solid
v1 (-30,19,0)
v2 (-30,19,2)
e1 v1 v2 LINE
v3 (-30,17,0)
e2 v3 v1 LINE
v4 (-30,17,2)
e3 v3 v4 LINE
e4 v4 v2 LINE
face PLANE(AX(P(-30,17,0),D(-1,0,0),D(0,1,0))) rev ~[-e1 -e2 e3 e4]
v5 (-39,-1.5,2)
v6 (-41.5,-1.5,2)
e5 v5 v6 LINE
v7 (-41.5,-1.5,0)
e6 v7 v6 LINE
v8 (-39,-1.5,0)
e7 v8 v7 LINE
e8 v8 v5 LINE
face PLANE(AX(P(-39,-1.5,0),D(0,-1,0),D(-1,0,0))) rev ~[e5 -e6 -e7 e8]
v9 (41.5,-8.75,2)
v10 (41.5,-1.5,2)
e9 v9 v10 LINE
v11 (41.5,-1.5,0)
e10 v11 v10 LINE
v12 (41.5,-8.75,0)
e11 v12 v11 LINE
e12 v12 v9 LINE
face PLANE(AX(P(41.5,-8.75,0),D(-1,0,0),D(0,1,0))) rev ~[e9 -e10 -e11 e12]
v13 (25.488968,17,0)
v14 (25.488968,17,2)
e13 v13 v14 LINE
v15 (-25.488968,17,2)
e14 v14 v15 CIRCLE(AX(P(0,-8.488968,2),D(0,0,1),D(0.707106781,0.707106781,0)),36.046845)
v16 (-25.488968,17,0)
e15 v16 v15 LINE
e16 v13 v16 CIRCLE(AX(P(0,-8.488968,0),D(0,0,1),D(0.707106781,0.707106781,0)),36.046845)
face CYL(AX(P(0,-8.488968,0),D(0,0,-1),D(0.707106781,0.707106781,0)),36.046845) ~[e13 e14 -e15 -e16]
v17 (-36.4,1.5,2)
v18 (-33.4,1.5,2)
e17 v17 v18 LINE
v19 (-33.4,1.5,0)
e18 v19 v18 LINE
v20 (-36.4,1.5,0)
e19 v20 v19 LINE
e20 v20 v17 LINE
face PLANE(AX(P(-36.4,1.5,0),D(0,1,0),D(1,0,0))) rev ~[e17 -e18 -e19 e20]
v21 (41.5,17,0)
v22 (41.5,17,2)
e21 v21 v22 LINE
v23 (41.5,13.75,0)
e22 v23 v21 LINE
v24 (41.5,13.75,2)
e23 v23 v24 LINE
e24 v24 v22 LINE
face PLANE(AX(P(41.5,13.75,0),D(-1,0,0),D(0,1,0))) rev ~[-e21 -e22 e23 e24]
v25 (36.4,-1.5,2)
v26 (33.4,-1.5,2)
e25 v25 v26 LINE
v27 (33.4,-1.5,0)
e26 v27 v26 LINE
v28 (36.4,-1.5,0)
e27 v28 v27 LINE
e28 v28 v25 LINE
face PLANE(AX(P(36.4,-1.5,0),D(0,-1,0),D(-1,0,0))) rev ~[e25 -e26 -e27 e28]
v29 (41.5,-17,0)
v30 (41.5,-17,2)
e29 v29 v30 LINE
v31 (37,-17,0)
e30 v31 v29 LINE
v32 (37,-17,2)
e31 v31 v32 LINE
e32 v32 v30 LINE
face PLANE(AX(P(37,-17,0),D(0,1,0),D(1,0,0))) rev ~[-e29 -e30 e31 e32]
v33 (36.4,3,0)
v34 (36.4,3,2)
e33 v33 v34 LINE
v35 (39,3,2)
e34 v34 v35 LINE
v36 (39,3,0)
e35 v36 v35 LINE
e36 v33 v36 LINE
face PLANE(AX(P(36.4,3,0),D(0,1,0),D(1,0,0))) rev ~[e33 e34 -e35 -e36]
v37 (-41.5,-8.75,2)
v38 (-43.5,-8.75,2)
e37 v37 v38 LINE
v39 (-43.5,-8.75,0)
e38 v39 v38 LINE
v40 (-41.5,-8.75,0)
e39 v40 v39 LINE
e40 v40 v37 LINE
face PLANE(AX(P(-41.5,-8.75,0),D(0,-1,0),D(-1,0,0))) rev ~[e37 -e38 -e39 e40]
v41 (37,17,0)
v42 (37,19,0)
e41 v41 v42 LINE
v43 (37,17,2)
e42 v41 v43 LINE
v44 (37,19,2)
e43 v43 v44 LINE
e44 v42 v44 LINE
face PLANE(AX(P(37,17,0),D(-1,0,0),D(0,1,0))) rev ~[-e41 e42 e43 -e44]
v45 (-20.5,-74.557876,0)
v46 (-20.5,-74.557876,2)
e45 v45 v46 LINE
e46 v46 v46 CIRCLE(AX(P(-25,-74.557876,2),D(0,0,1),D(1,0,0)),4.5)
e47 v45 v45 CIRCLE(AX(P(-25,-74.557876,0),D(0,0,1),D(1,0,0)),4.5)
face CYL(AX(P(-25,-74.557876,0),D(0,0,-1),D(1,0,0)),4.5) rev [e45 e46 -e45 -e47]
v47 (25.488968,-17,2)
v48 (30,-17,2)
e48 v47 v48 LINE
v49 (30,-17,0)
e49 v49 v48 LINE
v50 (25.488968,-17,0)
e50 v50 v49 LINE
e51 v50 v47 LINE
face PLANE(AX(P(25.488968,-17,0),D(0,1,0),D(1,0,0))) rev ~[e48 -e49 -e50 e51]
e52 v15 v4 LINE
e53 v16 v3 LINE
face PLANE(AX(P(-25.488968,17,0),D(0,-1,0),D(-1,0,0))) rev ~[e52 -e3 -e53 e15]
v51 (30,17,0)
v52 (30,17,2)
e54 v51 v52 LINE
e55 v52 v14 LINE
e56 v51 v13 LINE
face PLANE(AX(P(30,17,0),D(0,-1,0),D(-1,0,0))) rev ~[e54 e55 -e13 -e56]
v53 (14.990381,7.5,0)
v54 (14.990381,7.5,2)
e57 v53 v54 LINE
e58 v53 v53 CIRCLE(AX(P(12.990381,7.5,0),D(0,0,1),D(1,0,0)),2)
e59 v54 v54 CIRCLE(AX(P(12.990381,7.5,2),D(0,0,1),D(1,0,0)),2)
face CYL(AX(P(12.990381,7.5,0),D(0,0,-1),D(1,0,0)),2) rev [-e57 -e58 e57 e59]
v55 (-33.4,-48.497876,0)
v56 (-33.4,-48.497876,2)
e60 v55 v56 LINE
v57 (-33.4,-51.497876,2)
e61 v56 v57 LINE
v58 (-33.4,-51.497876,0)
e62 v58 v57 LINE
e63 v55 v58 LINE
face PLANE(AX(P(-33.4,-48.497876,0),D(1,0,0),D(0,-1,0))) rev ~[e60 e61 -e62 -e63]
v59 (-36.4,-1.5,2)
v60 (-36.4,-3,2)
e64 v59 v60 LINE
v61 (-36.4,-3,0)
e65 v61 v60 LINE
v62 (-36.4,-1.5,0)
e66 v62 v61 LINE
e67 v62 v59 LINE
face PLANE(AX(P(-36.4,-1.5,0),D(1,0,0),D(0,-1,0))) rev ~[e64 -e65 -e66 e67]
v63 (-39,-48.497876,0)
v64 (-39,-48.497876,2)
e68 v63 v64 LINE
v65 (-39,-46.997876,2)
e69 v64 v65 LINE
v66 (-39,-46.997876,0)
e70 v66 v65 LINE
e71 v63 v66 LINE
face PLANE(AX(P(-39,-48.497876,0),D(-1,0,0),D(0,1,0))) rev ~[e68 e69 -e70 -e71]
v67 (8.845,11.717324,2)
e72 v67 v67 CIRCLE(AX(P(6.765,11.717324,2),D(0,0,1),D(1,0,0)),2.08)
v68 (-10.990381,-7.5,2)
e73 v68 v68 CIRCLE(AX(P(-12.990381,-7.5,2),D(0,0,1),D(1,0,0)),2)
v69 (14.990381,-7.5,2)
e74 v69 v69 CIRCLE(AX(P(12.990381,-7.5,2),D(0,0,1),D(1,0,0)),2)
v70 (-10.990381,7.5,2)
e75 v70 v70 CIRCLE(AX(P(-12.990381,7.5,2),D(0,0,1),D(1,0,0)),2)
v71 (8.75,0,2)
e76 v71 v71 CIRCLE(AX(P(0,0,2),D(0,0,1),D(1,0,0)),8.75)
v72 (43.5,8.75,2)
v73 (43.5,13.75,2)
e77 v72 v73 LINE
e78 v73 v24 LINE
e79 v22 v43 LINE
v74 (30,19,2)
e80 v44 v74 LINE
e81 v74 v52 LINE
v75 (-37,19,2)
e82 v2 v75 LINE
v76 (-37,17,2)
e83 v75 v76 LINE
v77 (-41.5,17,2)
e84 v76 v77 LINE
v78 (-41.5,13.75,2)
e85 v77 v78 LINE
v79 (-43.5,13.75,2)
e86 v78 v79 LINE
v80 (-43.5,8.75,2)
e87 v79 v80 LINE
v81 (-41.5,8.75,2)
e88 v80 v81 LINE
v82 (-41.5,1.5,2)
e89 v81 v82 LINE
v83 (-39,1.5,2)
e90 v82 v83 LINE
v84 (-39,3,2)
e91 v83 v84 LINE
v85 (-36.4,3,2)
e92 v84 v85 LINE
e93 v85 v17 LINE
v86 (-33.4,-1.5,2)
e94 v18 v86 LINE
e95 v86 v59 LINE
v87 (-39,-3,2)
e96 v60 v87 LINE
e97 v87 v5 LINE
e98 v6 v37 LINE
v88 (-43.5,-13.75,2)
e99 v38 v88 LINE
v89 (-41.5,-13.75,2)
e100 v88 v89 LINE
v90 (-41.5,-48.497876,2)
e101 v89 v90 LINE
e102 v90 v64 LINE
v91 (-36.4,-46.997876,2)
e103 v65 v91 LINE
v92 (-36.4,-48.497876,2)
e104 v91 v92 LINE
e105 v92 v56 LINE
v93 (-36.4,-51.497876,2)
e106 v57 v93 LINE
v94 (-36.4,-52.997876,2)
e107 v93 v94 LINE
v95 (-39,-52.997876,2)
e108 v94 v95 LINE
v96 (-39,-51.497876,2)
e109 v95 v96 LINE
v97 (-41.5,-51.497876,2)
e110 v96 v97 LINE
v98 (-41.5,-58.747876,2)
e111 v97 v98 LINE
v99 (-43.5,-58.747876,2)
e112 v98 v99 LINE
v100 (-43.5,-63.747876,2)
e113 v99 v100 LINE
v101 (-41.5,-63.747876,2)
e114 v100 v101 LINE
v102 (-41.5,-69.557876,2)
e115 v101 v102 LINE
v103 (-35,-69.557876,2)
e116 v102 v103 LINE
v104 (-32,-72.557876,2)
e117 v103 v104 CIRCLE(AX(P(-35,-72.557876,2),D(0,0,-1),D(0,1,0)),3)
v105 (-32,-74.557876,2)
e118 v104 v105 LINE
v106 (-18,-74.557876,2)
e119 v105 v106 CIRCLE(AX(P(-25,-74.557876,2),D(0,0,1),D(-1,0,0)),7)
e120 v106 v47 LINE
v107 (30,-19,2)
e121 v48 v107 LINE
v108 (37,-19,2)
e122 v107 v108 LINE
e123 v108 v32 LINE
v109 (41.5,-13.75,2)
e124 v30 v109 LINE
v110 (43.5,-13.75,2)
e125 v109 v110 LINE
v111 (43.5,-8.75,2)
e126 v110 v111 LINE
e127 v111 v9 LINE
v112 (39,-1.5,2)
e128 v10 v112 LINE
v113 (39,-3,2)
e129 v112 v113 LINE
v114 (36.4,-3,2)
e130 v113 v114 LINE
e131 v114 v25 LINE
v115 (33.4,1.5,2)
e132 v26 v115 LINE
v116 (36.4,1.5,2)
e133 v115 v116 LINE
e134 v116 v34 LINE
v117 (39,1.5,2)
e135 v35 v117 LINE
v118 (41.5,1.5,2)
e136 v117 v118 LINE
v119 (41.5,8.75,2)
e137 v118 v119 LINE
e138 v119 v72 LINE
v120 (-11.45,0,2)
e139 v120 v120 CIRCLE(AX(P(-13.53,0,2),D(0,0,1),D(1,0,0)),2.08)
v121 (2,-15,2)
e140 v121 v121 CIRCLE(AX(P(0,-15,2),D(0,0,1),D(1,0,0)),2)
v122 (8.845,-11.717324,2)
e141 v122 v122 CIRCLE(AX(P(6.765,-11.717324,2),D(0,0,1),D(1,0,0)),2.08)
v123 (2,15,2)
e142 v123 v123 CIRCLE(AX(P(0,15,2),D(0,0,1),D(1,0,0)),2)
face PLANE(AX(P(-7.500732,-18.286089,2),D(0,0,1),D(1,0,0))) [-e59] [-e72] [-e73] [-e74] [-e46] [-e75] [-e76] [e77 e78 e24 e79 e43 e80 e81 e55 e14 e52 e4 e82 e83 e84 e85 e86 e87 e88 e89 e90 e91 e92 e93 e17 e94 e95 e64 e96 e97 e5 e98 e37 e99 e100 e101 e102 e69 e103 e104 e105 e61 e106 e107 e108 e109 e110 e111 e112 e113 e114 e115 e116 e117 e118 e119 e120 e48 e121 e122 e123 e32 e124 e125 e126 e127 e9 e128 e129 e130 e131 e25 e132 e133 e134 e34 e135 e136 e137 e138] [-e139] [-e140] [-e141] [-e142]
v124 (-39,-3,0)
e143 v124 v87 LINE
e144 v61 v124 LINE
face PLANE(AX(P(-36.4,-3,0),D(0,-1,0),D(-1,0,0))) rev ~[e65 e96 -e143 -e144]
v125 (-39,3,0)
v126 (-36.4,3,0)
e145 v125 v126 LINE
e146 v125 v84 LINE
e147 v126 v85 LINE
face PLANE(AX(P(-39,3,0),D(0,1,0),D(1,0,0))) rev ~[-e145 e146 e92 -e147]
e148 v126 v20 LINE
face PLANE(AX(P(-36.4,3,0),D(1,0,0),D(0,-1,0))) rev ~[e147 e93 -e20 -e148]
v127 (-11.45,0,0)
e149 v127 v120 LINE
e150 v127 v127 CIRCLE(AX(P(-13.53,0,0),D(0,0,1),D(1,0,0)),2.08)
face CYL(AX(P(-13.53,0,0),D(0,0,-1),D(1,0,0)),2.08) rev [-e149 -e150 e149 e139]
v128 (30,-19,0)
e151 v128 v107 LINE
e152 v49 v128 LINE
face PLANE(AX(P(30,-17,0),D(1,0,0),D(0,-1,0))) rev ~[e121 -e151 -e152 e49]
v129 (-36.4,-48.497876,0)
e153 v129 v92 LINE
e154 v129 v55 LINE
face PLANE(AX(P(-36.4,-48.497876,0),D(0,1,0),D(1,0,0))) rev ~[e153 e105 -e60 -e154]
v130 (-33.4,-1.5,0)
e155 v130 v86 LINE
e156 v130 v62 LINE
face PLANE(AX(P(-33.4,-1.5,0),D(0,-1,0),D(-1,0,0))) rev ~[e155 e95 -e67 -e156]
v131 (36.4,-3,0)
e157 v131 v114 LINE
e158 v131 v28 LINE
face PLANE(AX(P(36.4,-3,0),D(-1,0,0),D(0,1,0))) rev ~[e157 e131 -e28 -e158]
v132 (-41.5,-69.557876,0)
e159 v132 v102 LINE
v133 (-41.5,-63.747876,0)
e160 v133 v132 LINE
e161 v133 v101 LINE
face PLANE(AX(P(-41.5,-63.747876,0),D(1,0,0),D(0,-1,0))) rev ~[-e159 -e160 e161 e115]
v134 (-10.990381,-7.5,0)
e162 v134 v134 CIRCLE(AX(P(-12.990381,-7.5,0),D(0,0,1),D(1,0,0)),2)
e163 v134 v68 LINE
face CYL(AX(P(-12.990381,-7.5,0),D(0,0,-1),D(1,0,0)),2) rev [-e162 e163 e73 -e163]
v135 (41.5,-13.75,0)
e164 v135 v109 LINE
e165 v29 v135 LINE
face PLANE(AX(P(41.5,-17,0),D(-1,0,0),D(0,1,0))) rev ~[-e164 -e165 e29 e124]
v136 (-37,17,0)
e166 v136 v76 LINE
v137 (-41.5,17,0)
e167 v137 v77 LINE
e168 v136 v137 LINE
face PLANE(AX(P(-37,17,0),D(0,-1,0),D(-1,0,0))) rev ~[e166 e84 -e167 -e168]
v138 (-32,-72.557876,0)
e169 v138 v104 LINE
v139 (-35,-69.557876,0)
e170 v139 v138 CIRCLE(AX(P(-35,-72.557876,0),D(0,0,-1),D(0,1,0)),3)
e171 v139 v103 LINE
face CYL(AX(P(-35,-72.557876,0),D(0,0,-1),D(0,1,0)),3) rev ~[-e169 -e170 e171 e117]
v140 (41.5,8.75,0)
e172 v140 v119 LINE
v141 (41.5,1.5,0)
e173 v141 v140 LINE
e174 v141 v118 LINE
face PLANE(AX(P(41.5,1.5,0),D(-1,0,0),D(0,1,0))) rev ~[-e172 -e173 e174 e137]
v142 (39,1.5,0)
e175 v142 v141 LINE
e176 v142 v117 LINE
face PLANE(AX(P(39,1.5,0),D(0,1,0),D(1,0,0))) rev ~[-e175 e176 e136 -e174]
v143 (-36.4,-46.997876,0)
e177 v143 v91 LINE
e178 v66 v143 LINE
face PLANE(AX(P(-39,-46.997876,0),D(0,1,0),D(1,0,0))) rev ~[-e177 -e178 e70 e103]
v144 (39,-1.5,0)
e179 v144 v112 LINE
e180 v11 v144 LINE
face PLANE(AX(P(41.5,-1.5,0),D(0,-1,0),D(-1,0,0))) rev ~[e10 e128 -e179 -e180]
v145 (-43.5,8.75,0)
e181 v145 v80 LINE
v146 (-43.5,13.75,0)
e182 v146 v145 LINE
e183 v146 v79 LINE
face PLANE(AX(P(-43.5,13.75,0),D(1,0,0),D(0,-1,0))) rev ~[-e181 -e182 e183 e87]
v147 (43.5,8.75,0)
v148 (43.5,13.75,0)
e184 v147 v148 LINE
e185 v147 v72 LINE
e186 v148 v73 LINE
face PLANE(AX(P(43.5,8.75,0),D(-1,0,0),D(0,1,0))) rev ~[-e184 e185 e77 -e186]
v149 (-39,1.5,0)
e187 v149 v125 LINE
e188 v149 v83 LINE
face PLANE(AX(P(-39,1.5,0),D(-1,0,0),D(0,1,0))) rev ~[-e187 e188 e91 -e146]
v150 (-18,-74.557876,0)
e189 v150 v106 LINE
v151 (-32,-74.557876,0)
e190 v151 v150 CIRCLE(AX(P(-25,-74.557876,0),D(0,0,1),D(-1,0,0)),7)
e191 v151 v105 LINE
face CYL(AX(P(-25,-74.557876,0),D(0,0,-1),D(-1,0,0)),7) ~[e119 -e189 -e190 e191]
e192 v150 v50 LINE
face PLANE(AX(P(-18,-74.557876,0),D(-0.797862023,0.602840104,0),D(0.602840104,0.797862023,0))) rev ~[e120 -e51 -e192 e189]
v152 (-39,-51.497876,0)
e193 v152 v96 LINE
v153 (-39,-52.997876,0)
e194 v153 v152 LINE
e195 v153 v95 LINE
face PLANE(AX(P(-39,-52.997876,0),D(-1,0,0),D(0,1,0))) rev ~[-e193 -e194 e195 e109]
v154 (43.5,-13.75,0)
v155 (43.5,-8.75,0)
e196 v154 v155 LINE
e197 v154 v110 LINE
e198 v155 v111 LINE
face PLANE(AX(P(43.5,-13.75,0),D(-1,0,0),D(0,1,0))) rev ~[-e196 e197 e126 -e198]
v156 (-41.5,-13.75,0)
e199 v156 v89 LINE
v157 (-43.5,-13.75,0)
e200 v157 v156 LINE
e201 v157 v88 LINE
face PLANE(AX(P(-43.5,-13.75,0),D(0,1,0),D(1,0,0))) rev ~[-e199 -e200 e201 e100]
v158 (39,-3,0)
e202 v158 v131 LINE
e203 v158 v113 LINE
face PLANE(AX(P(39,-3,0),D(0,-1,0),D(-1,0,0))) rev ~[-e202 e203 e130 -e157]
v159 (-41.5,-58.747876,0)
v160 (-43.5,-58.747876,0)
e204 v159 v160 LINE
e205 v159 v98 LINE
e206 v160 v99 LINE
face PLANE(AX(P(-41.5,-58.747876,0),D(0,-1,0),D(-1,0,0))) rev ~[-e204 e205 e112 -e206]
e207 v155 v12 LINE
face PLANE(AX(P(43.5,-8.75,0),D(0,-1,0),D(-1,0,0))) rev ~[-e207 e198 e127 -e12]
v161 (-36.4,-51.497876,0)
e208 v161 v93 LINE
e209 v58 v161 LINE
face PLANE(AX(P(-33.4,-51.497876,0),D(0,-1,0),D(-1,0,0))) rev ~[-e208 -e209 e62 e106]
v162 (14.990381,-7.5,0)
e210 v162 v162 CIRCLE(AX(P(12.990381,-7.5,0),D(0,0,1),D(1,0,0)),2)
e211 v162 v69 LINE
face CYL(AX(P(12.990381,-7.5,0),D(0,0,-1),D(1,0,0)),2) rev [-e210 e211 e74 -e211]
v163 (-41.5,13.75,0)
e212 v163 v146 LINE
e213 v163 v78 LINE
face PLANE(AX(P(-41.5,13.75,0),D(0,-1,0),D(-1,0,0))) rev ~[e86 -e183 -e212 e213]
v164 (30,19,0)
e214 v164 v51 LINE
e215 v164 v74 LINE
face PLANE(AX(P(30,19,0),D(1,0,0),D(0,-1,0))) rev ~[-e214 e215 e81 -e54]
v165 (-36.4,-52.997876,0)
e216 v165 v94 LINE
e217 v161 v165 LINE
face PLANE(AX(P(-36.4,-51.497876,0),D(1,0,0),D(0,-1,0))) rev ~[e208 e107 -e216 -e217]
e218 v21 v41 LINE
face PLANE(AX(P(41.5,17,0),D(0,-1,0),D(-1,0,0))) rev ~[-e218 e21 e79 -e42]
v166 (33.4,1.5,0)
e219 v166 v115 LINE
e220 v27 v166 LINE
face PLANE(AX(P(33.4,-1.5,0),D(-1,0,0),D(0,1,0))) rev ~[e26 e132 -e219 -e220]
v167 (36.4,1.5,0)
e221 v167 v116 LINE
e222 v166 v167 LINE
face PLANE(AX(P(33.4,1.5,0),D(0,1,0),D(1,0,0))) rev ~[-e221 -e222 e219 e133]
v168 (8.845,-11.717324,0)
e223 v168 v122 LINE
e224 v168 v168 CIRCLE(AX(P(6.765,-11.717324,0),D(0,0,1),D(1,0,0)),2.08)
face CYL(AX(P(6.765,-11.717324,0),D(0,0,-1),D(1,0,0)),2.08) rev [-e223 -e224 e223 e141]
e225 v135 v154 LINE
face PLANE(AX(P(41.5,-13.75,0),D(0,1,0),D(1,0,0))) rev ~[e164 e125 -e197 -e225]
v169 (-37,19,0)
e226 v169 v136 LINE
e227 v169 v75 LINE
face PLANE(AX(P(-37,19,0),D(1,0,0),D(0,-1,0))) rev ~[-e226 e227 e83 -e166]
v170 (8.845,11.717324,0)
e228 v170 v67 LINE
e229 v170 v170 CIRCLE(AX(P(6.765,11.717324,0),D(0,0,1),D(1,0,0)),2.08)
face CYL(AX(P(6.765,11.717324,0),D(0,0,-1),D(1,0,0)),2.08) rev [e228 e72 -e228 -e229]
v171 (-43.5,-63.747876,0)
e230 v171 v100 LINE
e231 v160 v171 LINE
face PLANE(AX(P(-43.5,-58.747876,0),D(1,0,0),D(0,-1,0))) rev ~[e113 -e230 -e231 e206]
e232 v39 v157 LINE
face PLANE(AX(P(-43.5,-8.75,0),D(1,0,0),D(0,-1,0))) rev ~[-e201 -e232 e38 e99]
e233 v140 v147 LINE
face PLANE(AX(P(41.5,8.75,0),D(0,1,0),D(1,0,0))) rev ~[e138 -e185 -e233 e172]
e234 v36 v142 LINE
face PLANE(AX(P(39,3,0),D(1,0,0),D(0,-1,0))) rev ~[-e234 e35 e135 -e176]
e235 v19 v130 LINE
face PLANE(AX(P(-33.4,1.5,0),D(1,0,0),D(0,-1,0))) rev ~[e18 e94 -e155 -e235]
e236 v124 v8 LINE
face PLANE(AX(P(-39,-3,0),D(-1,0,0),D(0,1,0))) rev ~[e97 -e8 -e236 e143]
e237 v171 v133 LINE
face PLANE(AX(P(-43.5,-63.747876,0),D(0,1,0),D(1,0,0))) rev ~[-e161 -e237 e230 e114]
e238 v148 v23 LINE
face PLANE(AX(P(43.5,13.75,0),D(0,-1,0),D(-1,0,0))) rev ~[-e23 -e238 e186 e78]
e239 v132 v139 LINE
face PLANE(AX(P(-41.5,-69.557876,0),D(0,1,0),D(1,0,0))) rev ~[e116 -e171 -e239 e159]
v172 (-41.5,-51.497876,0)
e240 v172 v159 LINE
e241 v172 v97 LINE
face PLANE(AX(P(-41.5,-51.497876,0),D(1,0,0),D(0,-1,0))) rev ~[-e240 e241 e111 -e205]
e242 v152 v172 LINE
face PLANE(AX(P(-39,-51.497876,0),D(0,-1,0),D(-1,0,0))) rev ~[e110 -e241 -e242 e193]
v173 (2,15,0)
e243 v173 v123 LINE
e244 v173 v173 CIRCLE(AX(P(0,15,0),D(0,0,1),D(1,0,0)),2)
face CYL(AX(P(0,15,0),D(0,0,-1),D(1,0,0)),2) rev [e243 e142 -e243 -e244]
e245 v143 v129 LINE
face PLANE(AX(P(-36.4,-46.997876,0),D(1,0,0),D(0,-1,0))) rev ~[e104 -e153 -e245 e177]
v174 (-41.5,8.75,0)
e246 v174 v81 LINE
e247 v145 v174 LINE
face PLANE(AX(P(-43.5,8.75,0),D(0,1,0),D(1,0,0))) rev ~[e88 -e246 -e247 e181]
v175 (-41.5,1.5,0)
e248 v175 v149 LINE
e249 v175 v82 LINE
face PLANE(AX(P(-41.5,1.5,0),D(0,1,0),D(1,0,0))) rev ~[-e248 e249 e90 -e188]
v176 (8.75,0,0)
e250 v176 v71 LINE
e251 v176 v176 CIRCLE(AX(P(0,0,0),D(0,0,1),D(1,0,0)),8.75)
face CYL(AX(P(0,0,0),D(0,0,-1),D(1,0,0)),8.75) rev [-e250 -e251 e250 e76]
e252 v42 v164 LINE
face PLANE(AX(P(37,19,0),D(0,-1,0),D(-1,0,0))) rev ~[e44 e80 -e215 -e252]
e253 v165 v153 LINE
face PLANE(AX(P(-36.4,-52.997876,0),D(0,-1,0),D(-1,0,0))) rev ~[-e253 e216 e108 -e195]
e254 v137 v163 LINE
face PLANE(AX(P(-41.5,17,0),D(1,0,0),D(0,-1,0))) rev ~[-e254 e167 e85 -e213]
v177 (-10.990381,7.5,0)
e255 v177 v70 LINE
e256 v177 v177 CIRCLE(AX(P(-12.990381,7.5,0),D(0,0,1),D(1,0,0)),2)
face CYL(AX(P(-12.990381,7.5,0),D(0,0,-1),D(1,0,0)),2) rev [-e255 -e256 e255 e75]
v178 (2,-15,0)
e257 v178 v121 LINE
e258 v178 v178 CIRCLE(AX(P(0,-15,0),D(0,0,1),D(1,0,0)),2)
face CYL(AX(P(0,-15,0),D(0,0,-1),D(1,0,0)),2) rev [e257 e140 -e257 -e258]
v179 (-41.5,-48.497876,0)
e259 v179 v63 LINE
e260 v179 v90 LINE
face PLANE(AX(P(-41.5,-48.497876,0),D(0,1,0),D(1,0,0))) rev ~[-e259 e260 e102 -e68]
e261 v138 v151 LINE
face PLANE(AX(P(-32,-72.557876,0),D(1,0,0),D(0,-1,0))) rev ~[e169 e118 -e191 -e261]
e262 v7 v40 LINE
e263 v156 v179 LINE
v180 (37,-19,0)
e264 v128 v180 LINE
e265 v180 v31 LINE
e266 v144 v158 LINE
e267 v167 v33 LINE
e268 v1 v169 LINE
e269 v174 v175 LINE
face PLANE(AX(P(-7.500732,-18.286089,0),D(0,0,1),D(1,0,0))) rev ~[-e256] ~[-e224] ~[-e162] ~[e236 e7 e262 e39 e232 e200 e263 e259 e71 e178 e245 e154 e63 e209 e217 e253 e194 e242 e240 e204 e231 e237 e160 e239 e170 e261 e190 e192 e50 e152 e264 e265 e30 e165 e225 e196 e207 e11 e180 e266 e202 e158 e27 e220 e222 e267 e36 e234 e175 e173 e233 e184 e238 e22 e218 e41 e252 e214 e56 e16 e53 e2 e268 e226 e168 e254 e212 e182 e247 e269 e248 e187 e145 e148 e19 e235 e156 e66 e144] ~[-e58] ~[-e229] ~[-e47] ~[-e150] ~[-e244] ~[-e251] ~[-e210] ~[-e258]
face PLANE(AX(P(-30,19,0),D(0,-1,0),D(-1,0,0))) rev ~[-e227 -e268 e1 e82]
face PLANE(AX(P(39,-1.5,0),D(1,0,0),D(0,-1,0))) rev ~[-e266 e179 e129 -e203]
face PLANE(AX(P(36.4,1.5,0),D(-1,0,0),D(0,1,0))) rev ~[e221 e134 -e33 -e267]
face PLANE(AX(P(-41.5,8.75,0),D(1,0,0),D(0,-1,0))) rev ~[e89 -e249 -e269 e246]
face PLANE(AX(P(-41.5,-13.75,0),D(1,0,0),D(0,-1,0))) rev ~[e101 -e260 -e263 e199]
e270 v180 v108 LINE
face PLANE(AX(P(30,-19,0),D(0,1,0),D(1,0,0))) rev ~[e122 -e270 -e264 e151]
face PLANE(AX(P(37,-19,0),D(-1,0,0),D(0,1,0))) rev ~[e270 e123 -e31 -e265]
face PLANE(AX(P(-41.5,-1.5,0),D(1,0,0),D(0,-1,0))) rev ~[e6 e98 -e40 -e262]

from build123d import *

# Parameters (mm, degrees)
SKETCH_1_R      = 2
SKETCH_1_R_2    = 2.08
SKETCH_1_R_3    = 8.75
SKETCH_1_R_4    = 4.5
EXTRUDE_2_DEPTH = 2


with BuildPart() as part:
    # 草图1 → 凸台-拉伸2 (new body)
    with BuildSketch(Plane.XY):
        with BuildLine():
            Line((41.5, 13.75), (41.5, 17))
            Line((41.5, 17), (37, 17))
            Line((37, 17), (37, 19))
            Line((37, 19), (30, 19))
            Line((30, 19), (30, 17))
            Line((30, 17), (25.488968202, 17))
            ThreePointArc((25.488968202, 17), (0, 27.55787632), (-25.488968202, 17))
            Line((-25.488968202, 17), (-30, 17))
            Line((-30, 17), (-30, 19))
            Line((-30, 19), (-37, 19))
            Line((-37, 19), (-37, 17))
            Line((-37, 17), (-41.5, 17))
            Line((-41.5, 17), (-41.5, 13.75))
            Line((-41.5, 13.75), (-43.5, 13.75))
            Line((-43.5, 13.75), (-43.5, 8.75))
            Line((-43.5, 8.75), (-41.5, 8.75))
            Line((-41.5, 8.75), (-41.5, 1.5))
            Line((-41.5, 1.5), (-39, 1.5))
            Line((-39, 1.5), (-39, 3))
            Line((-39, 3), (-36.4, 3))
            Line((-36.4, 3), (-36.4, 1.5))
            Line((-36.4, 1.5), (-33.4, 1.5))
            Line((-33.4, 1.5), (-33.4, -1.5))
            Line((-33.4, -1.5), (-36.4, -1.5))
            Line((-36.4, -1.5), (-36.4, -3))
            Line((-36.4, -3), (-39, -3))
            Line((-39, -3), (-39, -1.5))
            Line((-39, -1.5), (-41.5, -1.5))
            Line((-41.5, -1.5), (-41.5, -8.75))
            Line((-41.5, -8.75), (-43.5, -8.75))
            Line((-43.5, -8.75), (-43.5, -13.75))
            Line((-43.5, -13.75), (-41.5, -13.75))
            Line((-41.5, -13.75), (-41.5, -17))
            Line((-41.5, -17), (-41.5, -48.49787632))
            Line((-41.5, -48.49787632), (-39, -48.49787632))
            Line((-39, -48.49787632), (-39, -46.99787632))
            Line((-39, -46.99787632), (-36.4, -46.99787632))
            Line((-36.4, -46.99787632), (-36.4, -48.49787632))
            Line((-36.4, -48.49787632), (-33.4, -48.49787632))
            Line((-33.4, -48.49787632), (-33.4, -51.49787632))
            Line((-33.4, -51.49787632), (-36.4, -51.49787632))
            Line((-36.4, -51.49787632), (-36.4, -52.99787632))
            Line((-36.4, -52.99787632), (-39, -52.99787632))
            Line((-39, -52.99787632), (-39, -51.49787632))
            Line((-39, -51.49787632), (-41.5, -51.49787632))
            Line((-41.5, -51.49787632), (-41.5, -58.74787632))
            Line((-41.5, -58.74787632), (-43.5, -58.74787632))
            Line((-43.5, -58.74787632), (-43.5, -63.74787632))
            Line((-43.5, -63.74787632), (-41.5, -63.74787632))
            Line((-41.5, -63.74787632), (-41.5, -69.55787632))
            Line((-41.5, -69.55787632), (-35, -69.55787632))
            ThreePointArc((-35, -69.55787632), (-32.878679656, -70.436555977), (-32, -72.55787632))
            Line((-32, -72.55787632), (-32, -74.55787632))
            ThreePointArc((-32, -74.55787632), (-25, -81.55787632), (-18, -74.55787632))
            Line((-18, -74.55787632), (25.488968202, -17))
            Line((25.488968202, -17), (30, -17))
            Line((30, -17), (30, -19))
            Line((30, -19), (37, -19))
            Line((37, -19), (37, -17))
            Line((37, -17), (41.5, -17))
            Line((41.5, -17), (41.5, -13.75))
            Line((41.5, -13.75), (43.5, -13.75))
            Line((43.5, -13.75), (43.5, -8.75))
            Line((43.5, -8.75), (41.5, -8.75))
            Line((41.5, -8.75), (41.5, -1.5))
            Line((41.5, -1.5), (39, -1.5))
            Line((39, -1.5), (39, -3))
            Line((39, -3), (36.4, -3))
            Line((36.4, -3), (36.4, -1.5))
            Line((36.4, -1.5), (33.4, -1.5))
            Line((33.4, -1.5), (33.4, 1.5))
            Line((33.4, 1.5), (36.4, 1.5))
            Line((36.4, 1.5), (36.4, 3))
            Line((36.4, 3), (39, 3))
            Line((39, 3), (39, 1.5))
            Line((39, 1.5), (41.5, 1.5))
            Line((41.5, 1.5), (41.5, 8.75))
            Line((41.5, 8.75), (43.5, 8.75))
            Line((43.5, 8.75), (43.5, 13.75))
            Line((43.5, 13.75), (41.5, 13.75))
        make_face()
        with Locations((0, -15)):
            Circle(SKETCH_1_R, mode=Mode.SUBTRACT)
        with Locations((-12.990381057, -7.5)):
            Circle(SKETCH_1_R, mode=Mode.SUBTRACT)
        with Locations((-12.990381057, 7.5)):
            Circle(SKETCH_1_R, mode=Mode.SUBTRACT)
        with Locations((0, 15)):
            Circle(SKETCH_1_R, mode=Mode.SUBTRACT)
        with Locations((12.990381057, 7.5)):
            Circle(SKETCH_1_R, mode=Mode.SUBTRACT)
        with Locations((12.990381057, -7.5)):
            Circle(SKETCH_1_R, mode=Mode.SUBTRACT)
        with Locations((-13.53, 0)):
            Circle(SKETCH_1_R_2, mode=Mode.SUBTRACT)
        with Locations((6.765, 11.717323713)):
            Circle(SKETCH_1_R_2, mode=Mode.SUBTRACT)
        with Locations((6.765, -11.717323713)):
            Circle(SKETCH_1_R_2, mode=Mode.SUBTRACT)
        Circle(SKETCH_1_R_3, mode=Mode.SUBTRACT)
        with Locations((-25, -74.55787632)):
            Circle(SKETCH_1_R_4, mode=Mode.SUBTRACT)
    extrude(amount=EXTRUDE_2_DEPTH)


solid = part.part
